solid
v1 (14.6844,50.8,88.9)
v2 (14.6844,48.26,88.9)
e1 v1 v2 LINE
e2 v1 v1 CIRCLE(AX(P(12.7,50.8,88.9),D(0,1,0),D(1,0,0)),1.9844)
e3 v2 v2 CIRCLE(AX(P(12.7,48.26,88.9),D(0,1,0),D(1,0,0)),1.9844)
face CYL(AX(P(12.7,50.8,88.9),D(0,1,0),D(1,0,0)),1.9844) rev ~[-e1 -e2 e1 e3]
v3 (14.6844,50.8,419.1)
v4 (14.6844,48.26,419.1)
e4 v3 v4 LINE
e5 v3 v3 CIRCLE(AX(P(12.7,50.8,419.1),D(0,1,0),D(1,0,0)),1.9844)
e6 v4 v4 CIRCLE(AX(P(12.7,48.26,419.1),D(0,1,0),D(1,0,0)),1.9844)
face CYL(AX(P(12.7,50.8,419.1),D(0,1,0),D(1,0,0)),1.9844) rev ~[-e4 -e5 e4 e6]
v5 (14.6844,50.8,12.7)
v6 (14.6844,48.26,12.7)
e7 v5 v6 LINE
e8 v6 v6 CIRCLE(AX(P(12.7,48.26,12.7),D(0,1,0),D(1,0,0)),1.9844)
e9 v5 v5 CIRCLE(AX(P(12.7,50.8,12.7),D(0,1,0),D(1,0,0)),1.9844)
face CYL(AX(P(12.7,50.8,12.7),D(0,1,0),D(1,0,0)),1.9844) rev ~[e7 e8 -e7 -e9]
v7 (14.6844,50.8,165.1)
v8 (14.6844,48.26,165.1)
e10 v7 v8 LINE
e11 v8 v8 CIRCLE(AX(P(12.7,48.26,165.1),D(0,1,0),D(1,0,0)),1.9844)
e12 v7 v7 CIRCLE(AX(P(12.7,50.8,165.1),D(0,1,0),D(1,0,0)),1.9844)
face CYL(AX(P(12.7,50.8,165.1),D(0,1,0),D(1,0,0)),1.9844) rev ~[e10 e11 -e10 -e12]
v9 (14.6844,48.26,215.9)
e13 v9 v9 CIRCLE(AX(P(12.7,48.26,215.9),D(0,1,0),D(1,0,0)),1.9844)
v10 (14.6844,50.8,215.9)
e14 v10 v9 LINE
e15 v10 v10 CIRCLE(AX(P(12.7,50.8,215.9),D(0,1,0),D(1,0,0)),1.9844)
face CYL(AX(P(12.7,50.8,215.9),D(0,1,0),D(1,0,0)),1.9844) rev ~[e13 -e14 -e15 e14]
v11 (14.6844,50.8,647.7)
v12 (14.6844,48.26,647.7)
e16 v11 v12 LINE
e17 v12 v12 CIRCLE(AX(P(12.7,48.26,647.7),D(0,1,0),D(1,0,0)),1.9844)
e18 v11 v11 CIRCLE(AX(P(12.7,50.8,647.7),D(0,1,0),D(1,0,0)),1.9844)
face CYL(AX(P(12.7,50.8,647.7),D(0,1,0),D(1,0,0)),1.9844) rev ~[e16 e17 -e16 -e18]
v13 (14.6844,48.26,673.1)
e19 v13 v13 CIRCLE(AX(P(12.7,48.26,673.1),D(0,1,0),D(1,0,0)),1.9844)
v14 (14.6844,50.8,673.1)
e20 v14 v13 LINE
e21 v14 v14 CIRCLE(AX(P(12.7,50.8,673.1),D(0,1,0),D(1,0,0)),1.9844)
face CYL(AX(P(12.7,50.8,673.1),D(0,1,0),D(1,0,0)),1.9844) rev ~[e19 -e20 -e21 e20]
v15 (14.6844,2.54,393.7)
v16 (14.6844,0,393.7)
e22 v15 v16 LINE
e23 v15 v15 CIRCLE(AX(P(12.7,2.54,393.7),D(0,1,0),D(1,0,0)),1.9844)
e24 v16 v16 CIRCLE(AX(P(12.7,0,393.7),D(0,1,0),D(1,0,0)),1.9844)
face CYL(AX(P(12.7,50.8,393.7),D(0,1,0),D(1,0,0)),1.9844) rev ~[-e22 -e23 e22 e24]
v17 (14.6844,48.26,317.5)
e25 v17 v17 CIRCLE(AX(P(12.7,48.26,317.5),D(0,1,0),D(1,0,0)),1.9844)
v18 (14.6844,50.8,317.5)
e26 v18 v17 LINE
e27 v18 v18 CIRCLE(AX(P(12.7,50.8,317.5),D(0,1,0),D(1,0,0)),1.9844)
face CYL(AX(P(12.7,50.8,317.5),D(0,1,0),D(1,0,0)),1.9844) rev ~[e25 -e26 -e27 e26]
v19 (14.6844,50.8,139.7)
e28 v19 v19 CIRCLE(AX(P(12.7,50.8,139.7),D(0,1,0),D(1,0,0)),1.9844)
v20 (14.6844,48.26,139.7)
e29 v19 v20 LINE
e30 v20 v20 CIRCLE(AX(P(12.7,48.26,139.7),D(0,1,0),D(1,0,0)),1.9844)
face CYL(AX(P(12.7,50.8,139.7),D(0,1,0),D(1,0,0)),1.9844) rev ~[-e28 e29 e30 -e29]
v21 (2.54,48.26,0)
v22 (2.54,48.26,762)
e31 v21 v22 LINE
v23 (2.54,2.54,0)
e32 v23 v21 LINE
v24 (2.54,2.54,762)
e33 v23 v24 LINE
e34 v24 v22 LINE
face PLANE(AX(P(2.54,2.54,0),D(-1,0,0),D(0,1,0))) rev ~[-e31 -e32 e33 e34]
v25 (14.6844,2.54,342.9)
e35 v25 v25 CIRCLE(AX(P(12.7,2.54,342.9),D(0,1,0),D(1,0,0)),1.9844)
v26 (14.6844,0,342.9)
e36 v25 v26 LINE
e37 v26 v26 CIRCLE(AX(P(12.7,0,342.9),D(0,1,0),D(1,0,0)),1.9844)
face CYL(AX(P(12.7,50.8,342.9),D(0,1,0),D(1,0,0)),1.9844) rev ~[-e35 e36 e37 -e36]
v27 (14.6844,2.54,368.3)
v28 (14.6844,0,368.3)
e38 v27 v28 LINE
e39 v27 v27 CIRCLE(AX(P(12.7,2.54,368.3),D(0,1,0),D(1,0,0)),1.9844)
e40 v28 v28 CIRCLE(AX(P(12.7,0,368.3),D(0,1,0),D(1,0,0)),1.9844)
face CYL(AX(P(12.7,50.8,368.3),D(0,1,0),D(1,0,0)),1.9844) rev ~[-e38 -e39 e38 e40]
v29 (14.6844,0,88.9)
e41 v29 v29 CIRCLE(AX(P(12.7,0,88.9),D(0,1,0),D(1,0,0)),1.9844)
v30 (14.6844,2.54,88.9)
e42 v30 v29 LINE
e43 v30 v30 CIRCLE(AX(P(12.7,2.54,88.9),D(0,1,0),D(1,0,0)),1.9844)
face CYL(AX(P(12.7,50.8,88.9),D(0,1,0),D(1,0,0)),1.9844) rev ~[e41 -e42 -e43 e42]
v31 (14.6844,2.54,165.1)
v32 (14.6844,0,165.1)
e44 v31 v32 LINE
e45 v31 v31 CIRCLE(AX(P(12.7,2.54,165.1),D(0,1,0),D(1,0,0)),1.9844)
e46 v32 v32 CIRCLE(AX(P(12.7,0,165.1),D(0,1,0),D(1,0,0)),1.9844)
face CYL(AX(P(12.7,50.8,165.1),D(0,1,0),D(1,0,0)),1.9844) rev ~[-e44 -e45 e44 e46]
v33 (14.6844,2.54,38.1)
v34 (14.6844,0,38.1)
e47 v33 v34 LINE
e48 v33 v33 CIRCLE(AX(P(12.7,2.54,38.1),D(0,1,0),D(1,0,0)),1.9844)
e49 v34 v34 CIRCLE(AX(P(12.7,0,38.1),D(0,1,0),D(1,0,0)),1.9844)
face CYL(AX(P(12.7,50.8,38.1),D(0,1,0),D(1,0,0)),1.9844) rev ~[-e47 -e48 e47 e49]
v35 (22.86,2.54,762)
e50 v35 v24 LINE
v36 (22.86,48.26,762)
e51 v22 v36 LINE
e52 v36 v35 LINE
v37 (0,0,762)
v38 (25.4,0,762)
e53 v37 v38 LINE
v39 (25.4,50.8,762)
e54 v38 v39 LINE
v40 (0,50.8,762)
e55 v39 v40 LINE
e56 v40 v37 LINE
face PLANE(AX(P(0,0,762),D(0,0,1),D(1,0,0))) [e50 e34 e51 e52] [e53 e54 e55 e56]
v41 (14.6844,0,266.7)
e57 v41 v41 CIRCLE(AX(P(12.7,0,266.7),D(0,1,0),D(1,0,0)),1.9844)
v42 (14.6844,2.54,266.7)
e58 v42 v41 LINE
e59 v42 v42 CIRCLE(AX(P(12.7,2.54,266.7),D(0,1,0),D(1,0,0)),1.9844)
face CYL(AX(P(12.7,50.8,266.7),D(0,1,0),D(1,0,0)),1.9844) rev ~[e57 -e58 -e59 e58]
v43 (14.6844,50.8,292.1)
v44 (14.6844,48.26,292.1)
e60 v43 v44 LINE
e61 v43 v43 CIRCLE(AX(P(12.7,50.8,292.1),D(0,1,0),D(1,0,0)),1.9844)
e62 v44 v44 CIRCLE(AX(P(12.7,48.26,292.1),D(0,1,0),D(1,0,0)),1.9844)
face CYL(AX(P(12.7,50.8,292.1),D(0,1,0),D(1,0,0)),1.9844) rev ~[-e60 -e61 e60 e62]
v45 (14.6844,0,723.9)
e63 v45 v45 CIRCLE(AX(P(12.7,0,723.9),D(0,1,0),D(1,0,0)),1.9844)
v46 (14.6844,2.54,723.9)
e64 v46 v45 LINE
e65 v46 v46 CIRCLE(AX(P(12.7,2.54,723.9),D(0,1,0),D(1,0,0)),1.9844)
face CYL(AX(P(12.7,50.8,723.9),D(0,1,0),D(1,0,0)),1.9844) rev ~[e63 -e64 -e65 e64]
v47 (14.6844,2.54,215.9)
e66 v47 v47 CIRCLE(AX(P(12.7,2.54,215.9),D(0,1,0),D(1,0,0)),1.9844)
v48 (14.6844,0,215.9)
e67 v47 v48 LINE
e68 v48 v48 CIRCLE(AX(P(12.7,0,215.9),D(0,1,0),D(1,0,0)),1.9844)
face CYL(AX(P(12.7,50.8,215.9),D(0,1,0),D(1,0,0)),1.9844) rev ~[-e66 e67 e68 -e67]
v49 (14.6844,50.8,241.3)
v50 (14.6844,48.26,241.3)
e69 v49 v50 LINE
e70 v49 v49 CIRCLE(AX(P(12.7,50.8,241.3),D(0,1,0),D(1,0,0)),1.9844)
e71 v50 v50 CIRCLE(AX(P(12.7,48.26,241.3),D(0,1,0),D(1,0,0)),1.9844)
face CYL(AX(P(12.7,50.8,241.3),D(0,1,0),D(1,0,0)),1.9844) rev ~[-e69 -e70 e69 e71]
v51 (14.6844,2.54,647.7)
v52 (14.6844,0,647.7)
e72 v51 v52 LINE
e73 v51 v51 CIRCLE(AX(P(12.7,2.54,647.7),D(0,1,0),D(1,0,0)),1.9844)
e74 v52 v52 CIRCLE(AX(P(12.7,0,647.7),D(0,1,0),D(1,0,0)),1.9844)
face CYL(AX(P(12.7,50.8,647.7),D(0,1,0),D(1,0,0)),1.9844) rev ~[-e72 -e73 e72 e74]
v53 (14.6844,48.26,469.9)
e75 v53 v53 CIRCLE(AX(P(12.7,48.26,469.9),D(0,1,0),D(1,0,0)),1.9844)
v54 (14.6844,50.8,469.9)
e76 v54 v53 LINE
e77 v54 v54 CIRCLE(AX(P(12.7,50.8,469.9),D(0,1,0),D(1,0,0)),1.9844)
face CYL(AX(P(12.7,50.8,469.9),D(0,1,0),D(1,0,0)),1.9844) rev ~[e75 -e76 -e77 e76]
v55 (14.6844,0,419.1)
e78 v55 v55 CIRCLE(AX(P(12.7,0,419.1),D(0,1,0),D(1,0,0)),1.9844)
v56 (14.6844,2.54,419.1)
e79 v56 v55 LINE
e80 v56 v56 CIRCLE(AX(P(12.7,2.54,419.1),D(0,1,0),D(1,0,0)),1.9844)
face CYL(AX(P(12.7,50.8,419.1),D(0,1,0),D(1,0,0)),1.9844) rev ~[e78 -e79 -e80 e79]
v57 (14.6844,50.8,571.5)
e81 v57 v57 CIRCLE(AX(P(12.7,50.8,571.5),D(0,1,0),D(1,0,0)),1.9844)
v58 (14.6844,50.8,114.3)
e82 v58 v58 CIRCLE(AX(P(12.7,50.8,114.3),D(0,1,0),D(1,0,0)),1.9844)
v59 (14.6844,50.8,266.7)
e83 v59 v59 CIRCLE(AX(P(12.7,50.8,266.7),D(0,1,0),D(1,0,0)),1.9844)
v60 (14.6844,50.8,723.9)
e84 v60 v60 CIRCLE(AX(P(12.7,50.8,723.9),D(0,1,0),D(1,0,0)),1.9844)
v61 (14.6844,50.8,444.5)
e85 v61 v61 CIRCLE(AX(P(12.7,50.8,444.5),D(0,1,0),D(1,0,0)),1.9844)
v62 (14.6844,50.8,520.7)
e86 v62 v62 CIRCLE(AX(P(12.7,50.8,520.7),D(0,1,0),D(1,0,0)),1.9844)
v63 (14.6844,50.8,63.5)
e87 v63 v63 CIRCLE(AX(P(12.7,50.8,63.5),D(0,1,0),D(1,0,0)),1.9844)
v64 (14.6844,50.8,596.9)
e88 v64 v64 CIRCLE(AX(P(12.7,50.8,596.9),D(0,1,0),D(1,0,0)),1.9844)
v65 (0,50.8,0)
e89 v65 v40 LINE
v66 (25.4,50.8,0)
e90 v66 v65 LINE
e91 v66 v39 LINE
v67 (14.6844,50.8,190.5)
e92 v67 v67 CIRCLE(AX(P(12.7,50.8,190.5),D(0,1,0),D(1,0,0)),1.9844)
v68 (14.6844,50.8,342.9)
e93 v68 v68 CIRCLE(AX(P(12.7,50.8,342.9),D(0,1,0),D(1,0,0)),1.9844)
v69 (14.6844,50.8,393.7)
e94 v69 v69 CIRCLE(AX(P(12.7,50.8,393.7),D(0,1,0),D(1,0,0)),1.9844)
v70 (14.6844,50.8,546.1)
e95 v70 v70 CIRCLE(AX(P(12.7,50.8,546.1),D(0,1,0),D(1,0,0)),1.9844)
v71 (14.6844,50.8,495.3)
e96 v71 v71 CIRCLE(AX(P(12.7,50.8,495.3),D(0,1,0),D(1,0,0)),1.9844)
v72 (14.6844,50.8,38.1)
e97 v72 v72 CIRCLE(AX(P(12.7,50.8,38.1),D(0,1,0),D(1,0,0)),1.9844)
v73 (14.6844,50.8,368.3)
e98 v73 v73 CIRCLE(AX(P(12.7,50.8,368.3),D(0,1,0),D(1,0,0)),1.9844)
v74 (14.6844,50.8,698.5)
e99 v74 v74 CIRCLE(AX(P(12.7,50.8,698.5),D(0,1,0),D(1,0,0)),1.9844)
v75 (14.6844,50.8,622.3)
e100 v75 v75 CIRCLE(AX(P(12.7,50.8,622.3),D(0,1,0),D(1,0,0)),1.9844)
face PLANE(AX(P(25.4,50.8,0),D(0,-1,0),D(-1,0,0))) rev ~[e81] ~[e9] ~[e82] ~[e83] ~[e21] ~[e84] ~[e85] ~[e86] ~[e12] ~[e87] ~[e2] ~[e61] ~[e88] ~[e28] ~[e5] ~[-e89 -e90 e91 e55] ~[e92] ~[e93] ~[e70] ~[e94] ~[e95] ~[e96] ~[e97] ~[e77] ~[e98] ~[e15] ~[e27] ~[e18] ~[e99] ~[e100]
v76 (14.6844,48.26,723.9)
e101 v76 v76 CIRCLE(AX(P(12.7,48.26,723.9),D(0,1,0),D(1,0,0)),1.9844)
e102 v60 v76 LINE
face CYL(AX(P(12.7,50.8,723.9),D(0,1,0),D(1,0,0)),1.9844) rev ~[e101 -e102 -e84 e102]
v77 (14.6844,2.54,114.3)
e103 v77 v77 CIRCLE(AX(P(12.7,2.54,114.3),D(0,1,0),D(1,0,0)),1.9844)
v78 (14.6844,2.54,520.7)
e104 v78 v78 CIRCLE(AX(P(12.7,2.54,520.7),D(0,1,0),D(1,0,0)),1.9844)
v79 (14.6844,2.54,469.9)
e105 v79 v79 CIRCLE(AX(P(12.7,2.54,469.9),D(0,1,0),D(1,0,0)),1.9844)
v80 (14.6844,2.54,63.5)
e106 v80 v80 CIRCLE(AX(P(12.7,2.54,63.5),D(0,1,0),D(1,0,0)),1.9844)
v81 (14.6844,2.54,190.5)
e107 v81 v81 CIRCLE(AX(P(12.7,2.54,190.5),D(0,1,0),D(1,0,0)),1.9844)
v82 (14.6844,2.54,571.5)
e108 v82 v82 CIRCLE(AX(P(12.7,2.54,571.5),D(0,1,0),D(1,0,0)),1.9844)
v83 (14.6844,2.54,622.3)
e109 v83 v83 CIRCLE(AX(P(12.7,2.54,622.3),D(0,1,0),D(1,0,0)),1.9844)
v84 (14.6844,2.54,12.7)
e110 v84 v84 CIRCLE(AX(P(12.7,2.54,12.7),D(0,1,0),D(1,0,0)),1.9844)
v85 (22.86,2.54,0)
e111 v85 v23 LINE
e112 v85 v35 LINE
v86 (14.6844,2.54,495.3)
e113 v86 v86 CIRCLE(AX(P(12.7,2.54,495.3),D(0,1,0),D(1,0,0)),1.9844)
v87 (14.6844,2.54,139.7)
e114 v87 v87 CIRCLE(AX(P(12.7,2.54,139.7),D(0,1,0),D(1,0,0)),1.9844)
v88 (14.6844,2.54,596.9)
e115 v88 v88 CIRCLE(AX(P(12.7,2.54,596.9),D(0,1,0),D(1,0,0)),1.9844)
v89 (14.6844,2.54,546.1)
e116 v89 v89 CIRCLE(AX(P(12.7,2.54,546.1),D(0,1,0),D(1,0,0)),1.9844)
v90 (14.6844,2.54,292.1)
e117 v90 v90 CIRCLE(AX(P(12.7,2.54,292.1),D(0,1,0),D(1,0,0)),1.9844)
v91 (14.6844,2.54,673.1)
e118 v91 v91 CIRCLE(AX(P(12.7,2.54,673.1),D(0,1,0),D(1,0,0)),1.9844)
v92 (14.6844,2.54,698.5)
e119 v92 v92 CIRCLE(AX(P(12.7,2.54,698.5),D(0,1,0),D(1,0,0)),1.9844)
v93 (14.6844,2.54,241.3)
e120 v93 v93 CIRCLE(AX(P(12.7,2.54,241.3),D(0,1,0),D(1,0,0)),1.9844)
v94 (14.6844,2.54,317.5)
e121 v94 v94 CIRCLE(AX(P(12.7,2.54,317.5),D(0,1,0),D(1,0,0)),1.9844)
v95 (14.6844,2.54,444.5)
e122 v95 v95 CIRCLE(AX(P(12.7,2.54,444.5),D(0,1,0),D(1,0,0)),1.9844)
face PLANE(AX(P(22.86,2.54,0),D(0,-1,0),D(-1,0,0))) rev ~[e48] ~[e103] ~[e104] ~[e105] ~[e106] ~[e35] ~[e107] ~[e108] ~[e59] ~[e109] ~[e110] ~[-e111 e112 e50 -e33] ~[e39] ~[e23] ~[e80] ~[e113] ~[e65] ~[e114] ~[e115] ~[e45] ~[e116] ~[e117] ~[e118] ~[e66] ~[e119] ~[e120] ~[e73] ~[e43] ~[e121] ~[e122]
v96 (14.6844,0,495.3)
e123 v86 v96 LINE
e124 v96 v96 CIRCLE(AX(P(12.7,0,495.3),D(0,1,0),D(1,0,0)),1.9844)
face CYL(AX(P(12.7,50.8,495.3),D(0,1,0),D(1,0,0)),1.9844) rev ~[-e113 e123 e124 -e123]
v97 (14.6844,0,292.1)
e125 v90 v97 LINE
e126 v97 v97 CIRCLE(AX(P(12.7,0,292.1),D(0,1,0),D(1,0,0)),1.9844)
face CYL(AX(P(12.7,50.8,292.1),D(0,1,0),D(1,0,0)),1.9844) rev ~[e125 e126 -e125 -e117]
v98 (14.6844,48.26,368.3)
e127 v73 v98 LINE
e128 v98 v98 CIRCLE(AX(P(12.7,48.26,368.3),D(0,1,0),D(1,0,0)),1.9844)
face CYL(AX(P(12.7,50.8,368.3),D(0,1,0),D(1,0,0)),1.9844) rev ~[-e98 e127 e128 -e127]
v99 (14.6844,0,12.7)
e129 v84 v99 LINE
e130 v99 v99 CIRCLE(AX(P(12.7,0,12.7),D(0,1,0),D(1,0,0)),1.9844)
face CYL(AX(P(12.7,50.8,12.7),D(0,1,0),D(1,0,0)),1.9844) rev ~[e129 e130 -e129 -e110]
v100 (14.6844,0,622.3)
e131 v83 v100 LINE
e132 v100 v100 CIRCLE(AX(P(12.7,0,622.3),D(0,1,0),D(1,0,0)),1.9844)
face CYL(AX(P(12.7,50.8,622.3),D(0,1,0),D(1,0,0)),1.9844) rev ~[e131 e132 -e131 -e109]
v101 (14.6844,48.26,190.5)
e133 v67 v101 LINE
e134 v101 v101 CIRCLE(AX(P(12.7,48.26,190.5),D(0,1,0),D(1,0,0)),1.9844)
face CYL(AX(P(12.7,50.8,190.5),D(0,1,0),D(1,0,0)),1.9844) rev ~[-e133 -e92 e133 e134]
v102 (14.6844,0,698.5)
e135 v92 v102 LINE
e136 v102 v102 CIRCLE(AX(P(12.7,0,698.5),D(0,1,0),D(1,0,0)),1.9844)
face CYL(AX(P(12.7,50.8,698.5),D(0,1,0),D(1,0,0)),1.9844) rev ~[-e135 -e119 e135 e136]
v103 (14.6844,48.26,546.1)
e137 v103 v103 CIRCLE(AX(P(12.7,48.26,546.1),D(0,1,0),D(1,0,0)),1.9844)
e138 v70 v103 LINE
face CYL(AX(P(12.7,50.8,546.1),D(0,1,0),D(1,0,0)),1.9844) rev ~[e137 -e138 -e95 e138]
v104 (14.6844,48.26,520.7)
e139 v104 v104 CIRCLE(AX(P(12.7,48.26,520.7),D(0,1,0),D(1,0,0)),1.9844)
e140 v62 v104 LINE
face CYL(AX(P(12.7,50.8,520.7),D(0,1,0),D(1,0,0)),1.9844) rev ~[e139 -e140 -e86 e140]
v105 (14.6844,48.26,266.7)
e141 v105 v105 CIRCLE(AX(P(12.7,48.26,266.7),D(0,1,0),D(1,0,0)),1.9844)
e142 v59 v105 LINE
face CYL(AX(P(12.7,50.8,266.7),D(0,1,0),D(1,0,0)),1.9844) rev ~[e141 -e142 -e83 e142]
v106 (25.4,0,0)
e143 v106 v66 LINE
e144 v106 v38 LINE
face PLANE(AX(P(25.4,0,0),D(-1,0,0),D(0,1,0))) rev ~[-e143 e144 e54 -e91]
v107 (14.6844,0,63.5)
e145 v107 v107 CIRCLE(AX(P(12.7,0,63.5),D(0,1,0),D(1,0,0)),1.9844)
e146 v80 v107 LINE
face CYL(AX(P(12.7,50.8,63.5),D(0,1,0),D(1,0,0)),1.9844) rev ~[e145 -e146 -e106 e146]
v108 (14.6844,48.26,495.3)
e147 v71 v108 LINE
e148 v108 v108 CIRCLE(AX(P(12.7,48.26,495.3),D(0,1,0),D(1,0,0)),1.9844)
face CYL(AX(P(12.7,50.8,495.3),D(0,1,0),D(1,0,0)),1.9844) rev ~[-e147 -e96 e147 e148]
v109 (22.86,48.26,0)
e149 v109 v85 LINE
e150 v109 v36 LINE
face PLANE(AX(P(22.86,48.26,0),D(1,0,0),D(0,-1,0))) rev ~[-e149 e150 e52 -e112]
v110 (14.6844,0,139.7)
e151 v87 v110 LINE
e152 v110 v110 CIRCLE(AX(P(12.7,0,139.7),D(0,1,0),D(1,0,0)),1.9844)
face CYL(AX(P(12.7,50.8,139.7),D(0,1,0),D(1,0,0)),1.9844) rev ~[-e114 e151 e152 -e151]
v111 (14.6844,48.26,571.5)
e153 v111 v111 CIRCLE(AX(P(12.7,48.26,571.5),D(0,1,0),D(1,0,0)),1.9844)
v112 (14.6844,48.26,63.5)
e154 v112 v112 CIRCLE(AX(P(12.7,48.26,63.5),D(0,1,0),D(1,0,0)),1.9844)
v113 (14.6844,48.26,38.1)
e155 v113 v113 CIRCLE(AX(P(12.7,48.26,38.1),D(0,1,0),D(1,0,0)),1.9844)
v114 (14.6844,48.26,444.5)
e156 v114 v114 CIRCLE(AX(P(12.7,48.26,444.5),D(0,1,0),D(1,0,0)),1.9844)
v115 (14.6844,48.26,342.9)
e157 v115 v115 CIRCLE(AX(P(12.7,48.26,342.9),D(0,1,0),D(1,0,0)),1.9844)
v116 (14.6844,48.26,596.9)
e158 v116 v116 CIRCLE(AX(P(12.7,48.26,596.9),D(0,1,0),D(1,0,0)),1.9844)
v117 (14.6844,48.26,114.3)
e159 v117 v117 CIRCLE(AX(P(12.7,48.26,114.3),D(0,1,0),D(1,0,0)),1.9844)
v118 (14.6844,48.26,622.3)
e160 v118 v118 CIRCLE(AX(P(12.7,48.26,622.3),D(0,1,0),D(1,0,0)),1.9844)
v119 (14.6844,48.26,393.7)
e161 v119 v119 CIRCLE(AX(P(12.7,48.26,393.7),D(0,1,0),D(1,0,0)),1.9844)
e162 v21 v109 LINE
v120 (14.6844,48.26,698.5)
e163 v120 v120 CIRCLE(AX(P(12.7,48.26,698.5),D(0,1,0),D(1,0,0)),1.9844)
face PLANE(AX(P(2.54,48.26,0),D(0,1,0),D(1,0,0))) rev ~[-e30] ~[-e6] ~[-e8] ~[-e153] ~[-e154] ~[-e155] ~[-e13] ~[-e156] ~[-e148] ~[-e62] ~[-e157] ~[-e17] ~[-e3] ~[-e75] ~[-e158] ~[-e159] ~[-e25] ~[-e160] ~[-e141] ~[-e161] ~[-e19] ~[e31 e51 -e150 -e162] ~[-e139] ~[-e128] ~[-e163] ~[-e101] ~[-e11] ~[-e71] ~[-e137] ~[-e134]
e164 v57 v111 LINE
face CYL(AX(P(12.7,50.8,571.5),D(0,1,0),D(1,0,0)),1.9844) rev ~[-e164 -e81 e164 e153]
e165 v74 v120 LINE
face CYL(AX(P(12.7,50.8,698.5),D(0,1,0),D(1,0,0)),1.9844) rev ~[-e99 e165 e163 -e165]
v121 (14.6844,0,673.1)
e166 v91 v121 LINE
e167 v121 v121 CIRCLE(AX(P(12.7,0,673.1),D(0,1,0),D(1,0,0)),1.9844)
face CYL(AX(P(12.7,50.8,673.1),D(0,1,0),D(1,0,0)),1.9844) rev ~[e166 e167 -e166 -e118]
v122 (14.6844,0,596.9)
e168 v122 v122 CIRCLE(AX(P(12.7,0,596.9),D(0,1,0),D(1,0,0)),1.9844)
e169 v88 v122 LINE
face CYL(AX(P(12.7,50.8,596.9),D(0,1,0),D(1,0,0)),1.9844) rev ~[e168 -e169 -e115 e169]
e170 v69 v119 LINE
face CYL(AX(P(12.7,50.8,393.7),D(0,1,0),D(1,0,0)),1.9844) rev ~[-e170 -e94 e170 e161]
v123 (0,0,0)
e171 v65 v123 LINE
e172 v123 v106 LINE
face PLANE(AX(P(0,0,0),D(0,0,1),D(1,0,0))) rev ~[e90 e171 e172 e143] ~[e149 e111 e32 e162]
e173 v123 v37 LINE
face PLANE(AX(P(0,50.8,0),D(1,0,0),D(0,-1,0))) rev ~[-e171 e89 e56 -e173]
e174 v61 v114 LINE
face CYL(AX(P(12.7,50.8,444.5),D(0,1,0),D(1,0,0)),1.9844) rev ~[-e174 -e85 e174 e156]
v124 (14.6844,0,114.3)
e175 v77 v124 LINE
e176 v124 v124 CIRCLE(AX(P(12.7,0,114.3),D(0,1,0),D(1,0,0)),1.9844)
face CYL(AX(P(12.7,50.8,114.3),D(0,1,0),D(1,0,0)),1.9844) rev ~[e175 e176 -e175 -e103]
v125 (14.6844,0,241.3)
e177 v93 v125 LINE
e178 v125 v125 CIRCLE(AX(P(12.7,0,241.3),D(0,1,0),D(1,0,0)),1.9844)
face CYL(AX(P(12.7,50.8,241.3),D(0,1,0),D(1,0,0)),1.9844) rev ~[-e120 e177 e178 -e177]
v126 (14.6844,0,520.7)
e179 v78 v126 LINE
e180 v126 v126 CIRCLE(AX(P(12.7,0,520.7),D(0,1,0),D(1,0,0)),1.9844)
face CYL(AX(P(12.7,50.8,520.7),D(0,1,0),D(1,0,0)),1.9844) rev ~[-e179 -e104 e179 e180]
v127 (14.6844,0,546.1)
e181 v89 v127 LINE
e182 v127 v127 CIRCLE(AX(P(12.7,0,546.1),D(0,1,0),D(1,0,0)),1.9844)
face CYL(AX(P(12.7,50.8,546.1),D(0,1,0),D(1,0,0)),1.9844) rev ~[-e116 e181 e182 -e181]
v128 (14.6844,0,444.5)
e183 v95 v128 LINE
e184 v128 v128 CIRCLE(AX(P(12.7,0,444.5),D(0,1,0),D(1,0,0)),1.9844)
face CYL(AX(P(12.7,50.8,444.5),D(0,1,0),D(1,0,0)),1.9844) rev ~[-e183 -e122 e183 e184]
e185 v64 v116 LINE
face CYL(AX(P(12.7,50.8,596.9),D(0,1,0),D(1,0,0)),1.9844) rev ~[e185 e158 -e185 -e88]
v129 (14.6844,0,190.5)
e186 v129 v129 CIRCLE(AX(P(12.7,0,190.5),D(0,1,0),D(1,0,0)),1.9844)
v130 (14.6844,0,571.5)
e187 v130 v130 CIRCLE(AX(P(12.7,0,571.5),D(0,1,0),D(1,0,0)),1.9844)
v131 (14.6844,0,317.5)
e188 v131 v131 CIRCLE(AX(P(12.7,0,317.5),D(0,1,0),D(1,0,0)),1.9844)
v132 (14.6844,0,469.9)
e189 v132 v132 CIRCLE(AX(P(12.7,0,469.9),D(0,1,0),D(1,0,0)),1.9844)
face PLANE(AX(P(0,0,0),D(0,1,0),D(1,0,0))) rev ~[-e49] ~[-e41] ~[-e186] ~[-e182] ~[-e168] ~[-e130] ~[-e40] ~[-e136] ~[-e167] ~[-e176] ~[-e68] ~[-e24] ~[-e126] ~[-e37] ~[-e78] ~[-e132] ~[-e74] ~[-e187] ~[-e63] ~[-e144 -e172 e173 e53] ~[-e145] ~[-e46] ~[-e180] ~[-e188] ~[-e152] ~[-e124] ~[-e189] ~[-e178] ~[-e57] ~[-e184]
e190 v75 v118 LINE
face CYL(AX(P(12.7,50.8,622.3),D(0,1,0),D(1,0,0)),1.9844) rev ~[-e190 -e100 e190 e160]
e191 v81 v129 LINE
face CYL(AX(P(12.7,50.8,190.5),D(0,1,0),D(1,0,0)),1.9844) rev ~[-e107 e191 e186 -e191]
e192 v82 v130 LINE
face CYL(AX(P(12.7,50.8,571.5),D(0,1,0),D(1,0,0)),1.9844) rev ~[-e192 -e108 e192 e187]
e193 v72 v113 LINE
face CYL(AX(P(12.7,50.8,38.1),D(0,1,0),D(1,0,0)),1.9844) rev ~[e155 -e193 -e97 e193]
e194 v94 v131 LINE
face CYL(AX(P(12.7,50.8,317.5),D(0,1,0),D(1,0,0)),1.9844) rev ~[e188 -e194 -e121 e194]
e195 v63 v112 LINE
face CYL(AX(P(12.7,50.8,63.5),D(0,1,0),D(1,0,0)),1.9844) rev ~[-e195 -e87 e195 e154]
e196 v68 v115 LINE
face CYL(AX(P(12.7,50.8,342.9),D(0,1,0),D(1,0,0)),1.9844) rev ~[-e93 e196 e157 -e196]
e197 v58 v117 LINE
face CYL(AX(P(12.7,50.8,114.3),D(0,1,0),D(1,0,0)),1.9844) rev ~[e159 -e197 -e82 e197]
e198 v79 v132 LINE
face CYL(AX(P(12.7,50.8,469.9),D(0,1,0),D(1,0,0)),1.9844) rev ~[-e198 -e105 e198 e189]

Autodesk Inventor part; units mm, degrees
ref_plane "YZ Plane" through (0, 0, 0) normal (1, 0, 0) x (0, 1, 0)
ref_plane "XZ Plane" through (0, 0, 0) normal (0, 1, 0) x (-1, 0, 0)
ref_plane "XY Plane" through (0, 0, 0) normal (0, 0, 1) x (1, 0, 0)
sketch "Sketch1" plane through (0, 0, 0) normal (0, 0, 1) x (1, 0, 0)
  line L0 (0, 0) -> (25.4, 0)
  line L1 (25.4, 0) -> (25.4, 50.8)
  line L2 (25.4, 50.8) -> (0, 50.8)
  line L3 (0, 50.8) -> (0, 0)
  line L4 (22.86, 48.26) -> (22.86, 2.54)
  line L5 (22.86, 2.54) -> (2.54, 2.54)
  line L6 (2.54, 2.54) -> (2.54, 48.26)
  line L7 (2.54, 48.26) -> (22.86, 48.26)
  dimension "d0" = 25.4
  dimension "d1" = 50.8
  dimension "d2" = 2.54
extrude "Extrusion1" add sketch "Sketch1" along normal blind 762
sketch "Sketch2" plane through (0, 50.8, 0) normal (0, 1, 0) x (1, 0, 0)
  circle A0 centre (12.7, -12.7) radius 1.9844
  line L0 (25.4, 0) -> (0, 0) projected
  line L1 (0, 0) -> (0, -762) projected
  circle A1 centre (12.7, -38.1) radius 1.9844
  circle A2 centre (12.7, -63.5) radius 1.9844
  circle A3 centre (12.7, -88.9) radius 1.9844
  circle A4 centre (12.7, -114.3) radius 1.9844
  circle A5 centre (12.7, -139.7) radius 1.9844
  circle A6 centre (12.7, -165.1) radius 1.9844
  circle A7 centre (12.7, -190.5) radius 1.9844
  circle A8 centre (12.7, -215.9) radius 1.9844
  circle A9 centre (12.7, -241.3) radius 1.9844
  circle A10 centre (12.7, -266.7) radius 1.9844
  circle A11 centre (12.7, -292.1) radius 1.9844
  circle A12 centre (12.7, -317.5) radius 1.9844
  circle A13 centre (12.7, -342.9) radius 1.9844
  circle A14 centre (12.7, -368.3) radius 1.9844
  circle A15 centre (12.7, -393.7) radius 1.9844
  circle A16 centre (12.7, -419.1) radius 1.9844
  circle A17 centre (12.7, -444.5) radius 1.9844
  circle A18 centre (12.7, -469.9) radius 1.9844
  circle A19 centre (12.7, -495.3) radius 1.9844
  circle A20 centre (12.7, -520.7) radius 1.9844
  circle A21 centre (12.7, -546.1) radius 1.9844
  circle A22 centre (12.7, -571.5) radius 1.9844
  circle A23 centre (12.7, -596.9) radius 1.9844
  circle A24 centre (12.7, -622.3) radius 1.9844
  circle A25 centre (12.7, -647.7) radius 1.9844
  circle A26 centre (12.7, -673.1) radius 1.9844
  circle A27 centre (12.7, -698.5) radius 1.9844
  circle A28 centre (12.7, -723.9) radius 1.9844
  circle A29 centre (12.7, -749.3) radius 1.9844
  circle A30 centre (12.7, -774.7) radius 1.9844
  circle A31 centre (12.7, -800.1) radius 1.9844
  circle A32 centre (12.7, -825.5) radius 1.9844
  dimension "d5" = 3.9688
  dimension "d6" = 12.7
  dimension "d7" = 12.7
  dimension "d10" = 25.4
extrude "Extrusion2" cut sketch "Sketch2" against normal blind 558.8 contours A0 | A1 | A2 | A3 | A4 | A5 | A6 | A7 | A8 | A9 | A10 | A11 | A12 | A13 | A14 | A15 | A16 | A17 | A18 | A19 | A20 | A21 | A22 | A23 | A24 | A25 | A26 | A27 | A28 | A30 | A31 | A32
properties part number "30in OChannel 1x2" material "Aluminum 6061-AHC"
